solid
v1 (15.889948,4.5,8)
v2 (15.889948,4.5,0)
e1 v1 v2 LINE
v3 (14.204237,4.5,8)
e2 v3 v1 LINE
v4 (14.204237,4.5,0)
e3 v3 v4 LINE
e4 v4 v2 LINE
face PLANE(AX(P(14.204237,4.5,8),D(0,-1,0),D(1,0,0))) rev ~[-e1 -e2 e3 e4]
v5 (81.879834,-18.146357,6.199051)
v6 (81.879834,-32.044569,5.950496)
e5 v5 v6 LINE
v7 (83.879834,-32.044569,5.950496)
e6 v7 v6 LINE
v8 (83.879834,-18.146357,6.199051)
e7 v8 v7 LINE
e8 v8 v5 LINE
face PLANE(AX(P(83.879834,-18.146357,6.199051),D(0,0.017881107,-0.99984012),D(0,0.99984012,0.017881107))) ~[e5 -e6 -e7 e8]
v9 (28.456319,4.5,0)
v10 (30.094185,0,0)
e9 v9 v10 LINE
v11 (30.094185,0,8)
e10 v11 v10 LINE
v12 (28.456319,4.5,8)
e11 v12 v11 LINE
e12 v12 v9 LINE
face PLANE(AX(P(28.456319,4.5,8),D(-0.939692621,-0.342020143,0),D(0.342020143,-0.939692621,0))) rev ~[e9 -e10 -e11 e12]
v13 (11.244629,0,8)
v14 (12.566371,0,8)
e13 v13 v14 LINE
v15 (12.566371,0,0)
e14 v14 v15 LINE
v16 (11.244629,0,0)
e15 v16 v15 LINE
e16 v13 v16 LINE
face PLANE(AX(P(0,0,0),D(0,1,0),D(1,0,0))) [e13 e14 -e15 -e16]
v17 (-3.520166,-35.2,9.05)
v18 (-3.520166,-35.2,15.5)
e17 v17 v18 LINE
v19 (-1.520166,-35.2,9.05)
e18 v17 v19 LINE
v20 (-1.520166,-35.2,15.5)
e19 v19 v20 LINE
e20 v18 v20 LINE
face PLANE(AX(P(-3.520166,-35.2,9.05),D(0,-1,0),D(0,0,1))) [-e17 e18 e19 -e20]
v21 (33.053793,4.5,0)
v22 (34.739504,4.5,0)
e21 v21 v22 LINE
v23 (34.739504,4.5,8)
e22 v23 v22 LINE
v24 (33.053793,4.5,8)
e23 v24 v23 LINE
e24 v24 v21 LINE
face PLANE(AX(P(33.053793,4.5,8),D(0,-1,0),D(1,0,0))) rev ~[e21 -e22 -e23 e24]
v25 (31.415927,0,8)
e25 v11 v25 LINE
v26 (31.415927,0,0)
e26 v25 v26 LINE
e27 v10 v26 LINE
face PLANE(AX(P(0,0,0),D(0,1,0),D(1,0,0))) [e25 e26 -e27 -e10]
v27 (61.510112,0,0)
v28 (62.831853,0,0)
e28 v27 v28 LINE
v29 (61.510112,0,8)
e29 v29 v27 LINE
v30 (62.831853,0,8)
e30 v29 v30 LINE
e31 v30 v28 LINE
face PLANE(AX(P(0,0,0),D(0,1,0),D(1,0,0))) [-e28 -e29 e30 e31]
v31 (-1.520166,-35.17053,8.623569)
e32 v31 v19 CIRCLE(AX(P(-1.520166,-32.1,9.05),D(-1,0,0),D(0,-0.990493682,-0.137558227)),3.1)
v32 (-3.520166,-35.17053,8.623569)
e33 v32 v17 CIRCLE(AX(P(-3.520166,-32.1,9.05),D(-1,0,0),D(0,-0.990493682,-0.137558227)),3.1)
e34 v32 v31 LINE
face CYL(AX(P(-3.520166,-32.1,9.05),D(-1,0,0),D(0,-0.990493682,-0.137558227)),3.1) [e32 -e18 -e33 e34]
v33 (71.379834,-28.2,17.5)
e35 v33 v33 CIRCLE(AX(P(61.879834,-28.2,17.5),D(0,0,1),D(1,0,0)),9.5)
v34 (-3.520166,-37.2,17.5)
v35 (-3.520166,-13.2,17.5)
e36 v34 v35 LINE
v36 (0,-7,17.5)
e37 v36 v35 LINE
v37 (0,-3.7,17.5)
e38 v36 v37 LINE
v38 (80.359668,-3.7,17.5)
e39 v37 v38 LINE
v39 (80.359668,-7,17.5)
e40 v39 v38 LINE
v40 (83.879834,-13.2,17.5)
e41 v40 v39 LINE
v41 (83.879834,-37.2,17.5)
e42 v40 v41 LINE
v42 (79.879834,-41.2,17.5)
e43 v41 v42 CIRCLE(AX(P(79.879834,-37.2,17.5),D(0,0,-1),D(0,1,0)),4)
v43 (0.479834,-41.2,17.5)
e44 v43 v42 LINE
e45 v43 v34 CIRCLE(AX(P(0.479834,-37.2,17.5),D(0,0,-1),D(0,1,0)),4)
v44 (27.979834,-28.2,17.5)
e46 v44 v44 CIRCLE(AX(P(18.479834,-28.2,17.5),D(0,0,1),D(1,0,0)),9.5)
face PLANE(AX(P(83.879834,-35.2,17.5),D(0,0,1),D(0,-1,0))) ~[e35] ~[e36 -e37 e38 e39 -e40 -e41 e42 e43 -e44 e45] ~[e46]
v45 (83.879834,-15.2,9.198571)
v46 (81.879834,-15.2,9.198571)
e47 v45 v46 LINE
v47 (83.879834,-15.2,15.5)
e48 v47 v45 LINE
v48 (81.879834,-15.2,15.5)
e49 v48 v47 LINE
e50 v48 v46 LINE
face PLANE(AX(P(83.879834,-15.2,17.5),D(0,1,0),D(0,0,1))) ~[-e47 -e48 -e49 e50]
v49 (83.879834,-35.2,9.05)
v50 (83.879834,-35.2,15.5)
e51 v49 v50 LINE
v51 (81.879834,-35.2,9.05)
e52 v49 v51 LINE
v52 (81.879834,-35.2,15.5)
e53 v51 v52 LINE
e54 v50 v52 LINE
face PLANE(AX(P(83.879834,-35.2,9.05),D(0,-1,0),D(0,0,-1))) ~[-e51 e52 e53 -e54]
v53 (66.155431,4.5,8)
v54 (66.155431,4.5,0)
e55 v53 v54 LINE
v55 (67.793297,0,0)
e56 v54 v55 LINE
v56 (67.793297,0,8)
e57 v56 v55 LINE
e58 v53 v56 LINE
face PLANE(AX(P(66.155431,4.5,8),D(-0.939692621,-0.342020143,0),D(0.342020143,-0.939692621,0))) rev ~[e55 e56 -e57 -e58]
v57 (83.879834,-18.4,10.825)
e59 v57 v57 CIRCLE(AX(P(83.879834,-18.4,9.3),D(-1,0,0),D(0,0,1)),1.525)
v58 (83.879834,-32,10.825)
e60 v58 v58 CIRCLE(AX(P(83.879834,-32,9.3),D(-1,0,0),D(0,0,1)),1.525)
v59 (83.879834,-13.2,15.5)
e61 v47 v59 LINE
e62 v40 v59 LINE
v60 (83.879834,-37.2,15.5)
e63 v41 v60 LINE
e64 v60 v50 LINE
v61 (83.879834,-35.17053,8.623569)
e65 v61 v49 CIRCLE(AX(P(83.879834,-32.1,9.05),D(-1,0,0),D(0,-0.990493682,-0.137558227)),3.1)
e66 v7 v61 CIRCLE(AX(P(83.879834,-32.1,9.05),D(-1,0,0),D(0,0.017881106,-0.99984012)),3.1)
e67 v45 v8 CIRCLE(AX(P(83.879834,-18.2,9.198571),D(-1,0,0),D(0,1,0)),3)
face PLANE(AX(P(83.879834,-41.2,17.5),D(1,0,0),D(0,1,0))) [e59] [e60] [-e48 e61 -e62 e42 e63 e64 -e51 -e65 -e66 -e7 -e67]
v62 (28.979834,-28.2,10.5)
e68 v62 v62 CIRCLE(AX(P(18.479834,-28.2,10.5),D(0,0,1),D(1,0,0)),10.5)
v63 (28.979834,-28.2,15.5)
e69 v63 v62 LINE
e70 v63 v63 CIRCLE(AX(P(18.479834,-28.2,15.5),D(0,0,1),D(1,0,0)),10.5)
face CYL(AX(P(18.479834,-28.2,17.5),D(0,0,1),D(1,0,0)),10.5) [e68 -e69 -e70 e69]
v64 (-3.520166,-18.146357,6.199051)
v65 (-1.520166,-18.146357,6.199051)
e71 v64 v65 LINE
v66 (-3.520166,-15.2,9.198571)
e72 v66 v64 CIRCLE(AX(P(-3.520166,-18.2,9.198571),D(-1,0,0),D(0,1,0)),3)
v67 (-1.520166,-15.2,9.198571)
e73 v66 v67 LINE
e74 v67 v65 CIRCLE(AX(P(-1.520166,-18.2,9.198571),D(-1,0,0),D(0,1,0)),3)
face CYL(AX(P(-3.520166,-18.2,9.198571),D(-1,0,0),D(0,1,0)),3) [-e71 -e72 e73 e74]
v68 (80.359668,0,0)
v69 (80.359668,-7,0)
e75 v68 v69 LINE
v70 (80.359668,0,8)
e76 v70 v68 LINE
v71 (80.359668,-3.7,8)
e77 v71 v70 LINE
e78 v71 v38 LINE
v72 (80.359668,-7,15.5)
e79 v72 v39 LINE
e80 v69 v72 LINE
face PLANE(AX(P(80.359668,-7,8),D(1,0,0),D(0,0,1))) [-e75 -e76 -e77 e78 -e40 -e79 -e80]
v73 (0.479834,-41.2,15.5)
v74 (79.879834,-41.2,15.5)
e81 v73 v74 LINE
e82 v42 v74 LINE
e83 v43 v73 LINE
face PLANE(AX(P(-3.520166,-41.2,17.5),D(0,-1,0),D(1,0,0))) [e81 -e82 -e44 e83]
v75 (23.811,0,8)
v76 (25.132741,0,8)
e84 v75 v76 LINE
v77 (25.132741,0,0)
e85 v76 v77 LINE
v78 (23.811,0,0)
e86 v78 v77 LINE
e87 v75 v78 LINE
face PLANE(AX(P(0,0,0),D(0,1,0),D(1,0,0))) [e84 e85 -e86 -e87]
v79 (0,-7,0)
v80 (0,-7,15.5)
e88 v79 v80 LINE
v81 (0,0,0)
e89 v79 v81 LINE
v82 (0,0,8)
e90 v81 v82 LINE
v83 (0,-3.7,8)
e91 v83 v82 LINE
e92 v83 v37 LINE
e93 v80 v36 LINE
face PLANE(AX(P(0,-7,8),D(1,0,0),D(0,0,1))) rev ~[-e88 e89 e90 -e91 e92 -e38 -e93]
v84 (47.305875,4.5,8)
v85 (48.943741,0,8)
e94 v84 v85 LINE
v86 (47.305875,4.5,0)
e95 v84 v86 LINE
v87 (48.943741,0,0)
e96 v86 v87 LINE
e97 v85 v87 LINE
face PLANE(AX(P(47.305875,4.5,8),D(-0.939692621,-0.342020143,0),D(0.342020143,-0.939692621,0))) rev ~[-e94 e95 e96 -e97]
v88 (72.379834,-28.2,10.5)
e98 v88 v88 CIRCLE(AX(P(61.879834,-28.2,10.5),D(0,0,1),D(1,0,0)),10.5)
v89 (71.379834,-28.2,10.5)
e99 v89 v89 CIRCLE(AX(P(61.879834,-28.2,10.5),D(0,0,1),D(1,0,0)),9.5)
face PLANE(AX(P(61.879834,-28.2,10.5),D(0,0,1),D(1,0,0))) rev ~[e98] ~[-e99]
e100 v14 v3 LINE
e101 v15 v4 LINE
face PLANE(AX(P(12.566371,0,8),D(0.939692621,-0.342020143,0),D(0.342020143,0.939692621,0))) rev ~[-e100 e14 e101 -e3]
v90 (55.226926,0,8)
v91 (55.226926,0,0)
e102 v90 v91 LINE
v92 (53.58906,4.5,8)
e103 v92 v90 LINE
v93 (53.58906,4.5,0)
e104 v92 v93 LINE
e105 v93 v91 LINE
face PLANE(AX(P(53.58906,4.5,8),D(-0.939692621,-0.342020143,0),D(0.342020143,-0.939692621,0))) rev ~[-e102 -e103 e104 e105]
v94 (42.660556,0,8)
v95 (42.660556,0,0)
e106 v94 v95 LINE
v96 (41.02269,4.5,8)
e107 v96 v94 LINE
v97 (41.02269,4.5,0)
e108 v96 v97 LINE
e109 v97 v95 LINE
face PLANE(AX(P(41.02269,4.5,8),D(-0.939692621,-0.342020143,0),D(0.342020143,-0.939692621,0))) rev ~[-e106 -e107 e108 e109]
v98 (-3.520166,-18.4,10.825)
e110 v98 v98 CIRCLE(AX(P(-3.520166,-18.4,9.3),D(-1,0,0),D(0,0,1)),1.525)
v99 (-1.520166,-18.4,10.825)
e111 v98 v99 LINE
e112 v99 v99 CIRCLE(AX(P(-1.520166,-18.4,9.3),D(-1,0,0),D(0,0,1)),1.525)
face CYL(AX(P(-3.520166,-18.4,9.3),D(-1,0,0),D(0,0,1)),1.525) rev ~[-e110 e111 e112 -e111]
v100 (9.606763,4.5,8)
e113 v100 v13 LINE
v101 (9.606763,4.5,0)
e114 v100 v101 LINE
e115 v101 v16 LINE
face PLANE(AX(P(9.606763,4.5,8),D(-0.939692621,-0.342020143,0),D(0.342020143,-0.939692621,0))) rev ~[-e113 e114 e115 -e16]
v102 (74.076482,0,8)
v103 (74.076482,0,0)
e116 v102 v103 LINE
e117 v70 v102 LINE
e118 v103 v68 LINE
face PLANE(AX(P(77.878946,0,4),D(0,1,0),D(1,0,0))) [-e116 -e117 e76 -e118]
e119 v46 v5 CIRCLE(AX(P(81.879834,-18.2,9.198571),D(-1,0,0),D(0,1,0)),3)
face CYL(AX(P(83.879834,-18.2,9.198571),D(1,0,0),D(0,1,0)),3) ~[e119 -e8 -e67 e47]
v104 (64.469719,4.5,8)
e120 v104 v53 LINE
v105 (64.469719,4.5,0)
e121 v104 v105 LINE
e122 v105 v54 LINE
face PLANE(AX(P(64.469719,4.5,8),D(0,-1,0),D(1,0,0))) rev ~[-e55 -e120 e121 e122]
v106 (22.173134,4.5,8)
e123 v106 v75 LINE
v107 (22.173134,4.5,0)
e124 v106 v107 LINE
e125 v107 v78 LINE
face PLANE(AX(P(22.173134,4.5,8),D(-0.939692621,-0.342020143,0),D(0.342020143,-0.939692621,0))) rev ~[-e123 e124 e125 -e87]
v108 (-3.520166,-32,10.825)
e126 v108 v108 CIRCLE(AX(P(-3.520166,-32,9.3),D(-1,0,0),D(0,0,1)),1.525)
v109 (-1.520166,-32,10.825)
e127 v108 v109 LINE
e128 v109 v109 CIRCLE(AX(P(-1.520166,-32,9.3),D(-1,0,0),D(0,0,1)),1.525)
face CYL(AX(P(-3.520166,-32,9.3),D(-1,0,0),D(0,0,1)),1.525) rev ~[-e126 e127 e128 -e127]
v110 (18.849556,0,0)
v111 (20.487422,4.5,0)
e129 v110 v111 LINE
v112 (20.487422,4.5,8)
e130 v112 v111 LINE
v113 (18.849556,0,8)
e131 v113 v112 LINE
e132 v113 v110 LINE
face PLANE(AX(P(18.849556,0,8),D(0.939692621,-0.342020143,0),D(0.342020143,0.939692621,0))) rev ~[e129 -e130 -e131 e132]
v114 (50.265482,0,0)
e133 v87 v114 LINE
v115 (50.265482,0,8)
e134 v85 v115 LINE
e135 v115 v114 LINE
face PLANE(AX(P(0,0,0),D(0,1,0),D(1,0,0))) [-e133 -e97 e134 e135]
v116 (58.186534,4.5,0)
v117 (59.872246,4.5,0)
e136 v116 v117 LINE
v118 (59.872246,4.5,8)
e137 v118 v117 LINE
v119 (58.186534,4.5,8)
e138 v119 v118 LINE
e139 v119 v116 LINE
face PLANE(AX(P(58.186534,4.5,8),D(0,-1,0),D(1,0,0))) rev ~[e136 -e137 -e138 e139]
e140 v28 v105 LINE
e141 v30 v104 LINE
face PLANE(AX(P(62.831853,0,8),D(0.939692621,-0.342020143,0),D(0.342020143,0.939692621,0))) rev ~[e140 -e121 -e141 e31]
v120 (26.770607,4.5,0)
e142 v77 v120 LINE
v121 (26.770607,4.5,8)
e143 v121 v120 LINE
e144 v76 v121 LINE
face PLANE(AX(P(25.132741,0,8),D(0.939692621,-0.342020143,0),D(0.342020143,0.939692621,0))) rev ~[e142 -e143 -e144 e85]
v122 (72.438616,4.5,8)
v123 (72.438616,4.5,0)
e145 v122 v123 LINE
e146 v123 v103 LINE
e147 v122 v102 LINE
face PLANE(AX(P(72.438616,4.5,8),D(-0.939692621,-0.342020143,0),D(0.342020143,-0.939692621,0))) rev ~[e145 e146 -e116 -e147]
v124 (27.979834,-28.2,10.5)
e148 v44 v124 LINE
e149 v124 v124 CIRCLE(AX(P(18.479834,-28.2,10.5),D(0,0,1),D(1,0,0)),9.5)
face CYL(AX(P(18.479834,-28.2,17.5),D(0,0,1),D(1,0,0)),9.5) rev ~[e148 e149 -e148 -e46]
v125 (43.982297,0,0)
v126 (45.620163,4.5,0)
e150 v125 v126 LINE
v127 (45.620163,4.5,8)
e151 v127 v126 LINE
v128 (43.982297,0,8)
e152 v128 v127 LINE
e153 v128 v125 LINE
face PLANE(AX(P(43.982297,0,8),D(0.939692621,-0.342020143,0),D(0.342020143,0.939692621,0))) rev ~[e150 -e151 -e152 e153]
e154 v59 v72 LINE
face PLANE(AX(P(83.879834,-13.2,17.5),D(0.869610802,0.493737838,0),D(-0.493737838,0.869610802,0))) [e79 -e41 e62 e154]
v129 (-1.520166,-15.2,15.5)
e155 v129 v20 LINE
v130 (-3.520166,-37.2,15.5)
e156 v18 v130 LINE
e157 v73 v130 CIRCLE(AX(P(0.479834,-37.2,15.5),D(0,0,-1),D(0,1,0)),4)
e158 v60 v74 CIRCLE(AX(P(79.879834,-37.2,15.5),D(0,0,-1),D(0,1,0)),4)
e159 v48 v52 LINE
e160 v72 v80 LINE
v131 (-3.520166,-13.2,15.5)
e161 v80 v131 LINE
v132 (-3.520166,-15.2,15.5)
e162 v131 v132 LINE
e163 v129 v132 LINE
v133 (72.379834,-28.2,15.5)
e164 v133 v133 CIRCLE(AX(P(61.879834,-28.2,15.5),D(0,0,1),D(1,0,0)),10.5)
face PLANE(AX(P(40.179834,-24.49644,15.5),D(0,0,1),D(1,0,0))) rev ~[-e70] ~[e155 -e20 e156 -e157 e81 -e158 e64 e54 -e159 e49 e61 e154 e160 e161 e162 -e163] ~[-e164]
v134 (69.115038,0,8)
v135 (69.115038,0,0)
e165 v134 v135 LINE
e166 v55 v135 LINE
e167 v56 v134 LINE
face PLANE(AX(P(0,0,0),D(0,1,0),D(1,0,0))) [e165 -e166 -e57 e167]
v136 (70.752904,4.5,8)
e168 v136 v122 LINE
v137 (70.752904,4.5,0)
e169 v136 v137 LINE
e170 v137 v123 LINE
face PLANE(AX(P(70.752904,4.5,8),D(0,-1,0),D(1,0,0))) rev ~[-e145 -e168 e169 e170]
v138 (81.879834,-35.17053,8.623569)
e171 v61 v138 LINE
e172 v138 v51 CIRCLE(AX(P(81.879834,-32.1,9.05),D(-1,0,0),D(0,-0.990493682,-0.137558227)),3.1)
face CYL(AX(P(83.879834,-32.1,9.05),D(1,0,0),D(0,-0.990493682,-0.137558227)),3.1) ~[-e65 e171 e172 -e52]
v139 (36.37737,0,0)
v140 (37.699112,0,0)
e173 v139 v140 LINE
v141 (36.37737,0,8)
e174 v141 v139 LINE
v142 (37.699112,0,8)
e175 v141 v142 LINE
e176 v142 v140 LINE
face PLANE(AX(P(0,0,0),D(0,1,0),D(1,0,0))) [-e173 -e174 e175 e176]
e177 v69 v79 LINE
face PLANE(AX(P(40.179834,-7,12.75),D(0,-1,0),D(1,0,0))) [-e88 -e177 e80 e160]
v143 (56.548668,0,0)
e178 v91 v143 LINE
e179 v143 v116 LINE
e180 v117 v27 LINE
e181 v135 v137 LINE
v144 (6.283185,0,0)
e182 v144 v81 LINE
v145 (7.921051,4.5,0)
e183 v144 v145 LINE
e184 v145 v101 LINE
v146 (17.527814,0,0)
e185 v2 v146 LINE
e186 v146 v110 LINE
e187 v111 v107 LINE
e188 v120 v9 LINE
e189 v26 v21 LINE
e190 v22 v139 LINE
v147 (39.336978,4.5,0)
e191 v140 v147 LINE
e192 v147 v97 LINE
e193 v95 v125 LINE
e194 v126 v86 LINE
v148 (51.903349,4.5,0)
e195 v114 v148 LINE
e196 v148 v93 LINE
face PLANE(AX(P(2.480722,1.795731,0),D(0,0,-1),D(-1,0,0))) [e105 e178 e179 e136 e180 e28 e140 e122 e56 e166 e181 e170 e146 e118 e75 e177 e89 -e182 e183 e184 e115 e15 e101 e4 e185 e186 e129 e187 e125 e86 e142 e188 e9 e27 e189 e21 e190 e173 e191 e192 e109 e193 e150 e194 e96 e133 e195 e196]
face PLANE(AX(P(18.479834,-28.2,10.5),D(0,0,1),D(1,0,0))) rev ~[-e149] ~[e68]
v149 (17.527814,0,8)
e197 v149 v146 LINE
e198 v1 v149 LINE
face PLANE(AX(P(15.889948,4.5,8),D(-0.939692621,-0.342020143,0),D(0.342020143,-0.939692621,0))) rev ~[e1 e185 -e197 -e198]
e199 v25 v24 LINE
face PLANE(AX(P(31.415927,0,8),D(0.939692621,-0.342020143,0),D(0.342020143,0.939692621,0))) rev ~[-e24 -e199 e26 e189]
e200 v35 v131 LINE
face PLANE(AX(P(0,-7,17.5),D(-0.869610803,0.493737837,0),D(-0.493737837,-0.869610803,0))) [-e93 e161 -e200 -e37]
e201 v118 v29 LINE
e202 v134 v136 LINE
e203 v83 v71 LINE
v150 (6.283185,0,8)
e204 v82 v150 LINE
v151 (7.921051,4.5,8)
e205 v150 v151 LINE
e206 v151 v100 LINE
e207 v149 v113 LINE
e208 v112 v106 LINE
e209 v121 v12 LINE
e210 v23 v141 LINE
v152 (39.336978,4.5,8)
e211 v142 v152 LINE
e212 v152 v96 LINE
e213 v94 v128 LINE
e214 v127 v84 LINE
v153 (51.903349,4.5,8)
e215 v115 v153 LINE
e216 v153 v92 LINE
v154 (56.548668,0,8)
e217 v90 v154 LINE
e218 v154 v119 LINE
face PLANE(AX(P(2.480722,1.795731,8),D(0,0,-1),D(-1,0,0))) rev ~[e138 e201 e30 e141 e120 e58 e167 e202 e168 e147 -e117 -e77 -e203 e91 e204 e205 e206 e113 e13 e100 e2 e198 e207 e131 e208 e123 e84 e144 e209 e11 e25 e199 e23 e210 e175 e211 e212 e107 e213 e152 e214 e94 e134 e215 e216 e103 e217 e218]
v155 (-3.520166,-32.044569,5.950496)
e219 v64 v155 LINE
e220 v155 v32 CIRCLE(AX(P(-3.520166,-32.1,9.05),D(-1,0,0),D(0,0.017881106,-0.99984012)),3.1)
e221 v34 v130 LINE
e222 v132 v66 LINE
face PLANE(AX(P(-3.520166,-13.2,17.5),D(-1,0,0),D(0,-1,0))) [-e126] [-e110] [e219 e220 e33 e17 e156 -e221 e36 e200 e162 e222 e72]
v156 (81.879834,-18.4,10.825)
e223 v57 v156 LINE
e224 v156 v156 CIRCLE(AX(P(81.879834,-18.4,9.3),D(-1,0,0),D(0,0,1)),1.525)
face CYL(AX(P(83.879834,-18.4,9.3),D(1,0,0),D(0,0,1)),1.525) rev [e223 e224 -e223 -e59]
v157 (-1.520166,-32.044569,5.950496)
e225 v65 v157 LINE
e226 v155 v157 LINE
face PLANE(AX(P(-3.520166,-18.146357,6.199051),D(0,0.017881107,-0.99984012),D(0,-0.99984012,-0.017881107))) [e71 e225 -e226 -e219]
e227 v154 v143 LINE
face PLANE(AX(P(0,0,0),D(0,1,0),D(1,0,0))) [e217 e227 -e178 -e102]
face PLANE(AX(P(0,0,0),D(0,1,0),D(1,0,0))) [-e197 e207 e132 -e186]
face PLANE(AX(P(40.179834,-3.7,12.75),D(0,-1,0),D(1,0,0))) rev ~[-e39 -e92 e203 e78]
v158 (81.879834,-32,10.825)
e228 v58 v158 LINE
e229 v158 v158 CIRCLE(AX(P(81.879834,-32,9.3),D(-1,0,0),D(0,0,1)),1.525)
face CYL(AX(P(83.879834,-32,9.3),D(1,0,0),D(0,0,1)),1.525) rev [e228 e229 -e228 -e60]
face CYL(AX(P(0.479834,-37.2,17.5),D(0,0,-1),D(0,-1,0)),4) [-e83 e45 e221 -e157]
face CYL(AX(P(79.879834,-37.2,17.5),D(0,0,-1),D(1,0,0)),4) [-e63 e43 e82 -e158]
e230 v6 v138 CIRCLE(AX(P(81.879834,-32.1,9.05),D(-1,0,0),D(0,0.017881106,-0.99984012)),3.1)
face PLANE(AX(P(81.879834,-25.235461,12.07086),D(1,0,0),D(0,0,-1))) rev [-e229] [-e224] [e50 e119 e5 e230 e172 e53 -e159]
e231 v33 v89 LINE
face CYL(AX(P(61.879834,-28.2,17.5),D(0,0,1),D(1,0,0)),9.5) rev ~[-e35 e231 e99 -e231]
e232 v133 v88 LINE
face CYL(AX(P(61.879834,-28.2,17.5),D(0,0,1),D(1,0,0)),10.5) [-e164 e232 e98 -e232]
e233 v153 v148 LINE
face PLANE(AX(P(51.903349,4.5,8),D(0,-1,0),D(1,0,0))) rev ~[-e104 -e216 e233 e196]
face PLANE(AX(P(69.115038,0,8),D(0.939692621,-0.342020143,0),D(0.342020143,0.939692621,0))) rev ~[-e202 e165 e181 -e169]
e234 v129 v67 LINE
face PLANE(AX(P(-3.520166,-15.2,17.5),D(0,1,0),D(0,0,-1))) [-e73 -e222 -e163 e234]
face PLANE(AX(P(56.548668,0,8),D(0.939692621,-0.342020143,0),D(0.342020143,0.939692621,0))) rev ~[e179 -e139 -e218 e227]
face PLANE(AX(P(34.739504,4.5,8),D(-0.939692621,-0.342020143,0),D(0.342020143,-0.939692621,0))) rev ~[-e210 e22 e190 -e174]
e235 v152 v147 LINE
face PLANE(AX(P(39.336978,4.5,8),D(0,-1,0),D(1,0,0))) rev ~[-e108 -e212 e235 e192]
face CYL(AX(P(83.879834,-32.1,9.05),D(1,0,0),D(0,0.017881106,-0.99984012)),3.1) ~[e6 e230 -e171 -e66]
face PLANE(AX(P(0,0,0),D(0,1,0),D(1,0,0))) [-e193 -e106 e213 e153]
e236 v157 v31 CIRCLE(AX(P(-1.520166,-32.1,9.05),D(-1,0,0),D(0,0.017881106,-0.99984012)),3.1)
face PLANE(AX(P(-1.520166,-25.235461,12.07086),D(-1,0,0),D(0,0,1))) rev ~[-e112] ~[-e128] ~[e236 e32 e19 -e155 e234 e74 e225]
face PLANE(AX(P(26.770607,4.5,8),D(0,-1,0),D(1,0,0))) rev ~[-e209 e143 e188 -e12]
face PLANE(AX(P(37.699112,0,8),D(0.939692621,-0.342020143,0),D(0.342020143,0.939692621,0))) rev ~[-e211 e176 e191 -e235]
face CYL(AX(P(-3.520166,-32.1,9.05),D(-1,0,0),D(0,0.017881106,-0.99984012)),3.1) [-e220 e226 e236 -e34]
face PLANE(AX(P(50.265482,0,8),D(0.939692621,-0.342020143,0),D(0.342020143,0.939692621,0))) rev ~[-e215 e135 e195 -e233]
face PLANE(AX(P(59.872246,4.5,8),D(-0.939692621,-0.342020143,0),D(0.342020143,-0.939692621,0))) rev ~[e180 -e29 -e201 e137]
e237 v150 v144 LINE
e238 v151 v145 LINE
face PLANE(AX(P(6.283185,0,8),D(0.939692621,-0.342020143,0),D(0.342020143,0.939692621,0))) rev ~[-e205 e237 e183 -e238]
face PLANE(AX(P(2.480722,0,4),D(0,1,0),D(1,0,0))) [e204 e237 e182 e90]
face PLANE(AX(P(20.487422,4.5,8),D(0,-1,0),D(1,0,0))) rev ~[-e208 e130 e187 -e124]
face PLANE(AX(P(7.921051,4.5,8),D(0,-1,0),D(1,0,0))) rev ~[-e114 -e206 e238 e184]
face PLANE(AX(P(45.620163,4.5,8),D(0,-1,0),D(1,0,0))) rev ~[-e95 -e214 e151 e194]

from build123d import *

# Parameters (mm, degrees)
SKETCH1_W           = 213.628300444
SKETCH1_H           = 8
EXTRUDE1_DEPTH      = 8
EXTRUDE2_DEPTH      = 8
LPATTERN1_COUNT     = 34
LPATTERN1_PITCH     = 6.283185307
SKETCH_1_W          = 133.268632933
SKETCH_1_H          = 8
CUT_EXTRUDE_1_DEPTH = 25
SKETCH_2_W          = 4.961443825
SKETCH_2_H          = 8
CUT_EXTRUDE_2_DEPTH = 50
SKETCH_3_W          = 80.359667511
SKETCH_3_H          = 1
CUT_EXTRUDE_3_DEPTH = 50
SKETCH_4_W          = 80.359667511
SKETCH_4_H          = 9.5
EXTRUDE_1_DEPTH     = 3.3
SKETCH_5_R          = 10.5
SKETCH_5_R_2        = 9.5
EXTRUDE_2_DEPTH     = 7
EXTRUDE_2_2_DEPTH   = 7
SKETCH_6_R          = 10.5
EXTRUDE_3_DEPTH     = 2
EXTRUDE_4_DEPTH     = 2
SKETCH_8_R          = 1.525
CUT_EXTRUDE_4_DEPTH = 2
FILLET_1_R          = 4


with BuildPart() as part:
    # Sketch1 → Extrude1 (new body)
    with BuildSketch(Plane.XY):
        with Locations((106.814150222, -4)):
            Rectangle(SKETCH1_W, SKETCH1_H)
    extrude(amount=EXTRUDE1_DEPTH)

    # Sketch2 → Extrude2 (add)
    with BuildSketch(Plane.XY.offset(8)):
        Polygon((0, 0), (1.637866054, 4.5), (3.323577771, 4.5), (4.961443825, 0), align=None)
    extrude2 = extrude(amount=-EXTRUDE2_DEPTH)

    # LPattern1: Extrude2 ×34
    with Locations(*[(i * LPATTERN1_PITCH, 0, 0) for i in range(1, LPATTERN1_COUNT)]):
        add(extrude2)

    # 草图1 → 切除-拉伸1 (cut, symmetric)
    with BuildSketch(Plane(origin=(0, 0, 0), x_dir=(1, 0, 0), z_dir=(0, 1, 0))):
        with Locations((146.993983978, -4)):
            Rectangle(SKETCH_1_W, SKETCH_1_H)
    extrude(amount=CUT_EXTRUDE_1_DEPTH, both=True, mode=Mode.SUBTRACT)

    # 草图2 → 切除-拉伸2 (cut)
    with BuildSketch(Plane(origin=(0, 0, 0), x_dir=(1, 0, 0), z_dir=(0, 1, 0))):
        with Locations((77.878945599, -4)):
            Rectangle(SKETCH_2_W, SKETCH_2_H)
        with Locations((2.480721912, -4)):
            Rectangle(SKETCH_2_W, SKETCH_2_H)
    extrude(amount=CUT_EXTRUDE_2_DEPTH, mode=Mode.SUBTRACT)

    # 草图3 → 切除-拉伸3 (cut)
    with BuildSketch(Plane(origin=(0, 0, 0), x_dir=(-1, 0, 0), z_dir=(0, 0, -1))):
        with Locations((-40.179833756, -7.5)):
            Rectangle(SKETCH_3_W, SKETCH_3_H)
    extrude(amount=-CUT_EXTRUDE_3_DEPTH, mode=Mode.SUBTRACT)

    # 草图4 → 凸台-拉伸1 (add)
    with BuildSketch(Plane.XZ.offset(7)):
        with Locations((40.179833756, 12.75)):
            Rectangle(SKETCH_4_W, SKETCH_4_H)
    extrude(amount=-EXTRUDE_1_DEPTH)



with BuildPart() as body_2:
    # 草图5 → 凸台-拉伸2 (new body)
    with BuildSketch(Plane.XY.offset(17.5)):
        with Locations((61.879833756, -28.2)):
            Circle(SKETCH_5_R)
        with Locations((61.879833756, -28.2)):
            Circle(SKETCH_5_R_2, mode=Mode.SUBTRACT)
    extrude(amount=-EXTRUDE_2_DEPTH)


with BuildPart() as body_3:
    # 草图5 → Extrude 2 2 (new body)
    with BuildSketch(Plane.XY.offset(17.5)):
        with Locations((18.479833756, -28.2)):
            Circle(SKETCH_5_R)
        with Locations((18.479833756, -28.2)):
            Circle(SKETCH_5_R_2, mode=Mode.SUBTRACT)
    extrude(amount=-EXTRUDE_2_2_DEPTH)


with BuildPart() as part_1:
    add(part.part)

    add(body_2.part)  # 凸台-拉伸3 merges body 2

    add(body_3.part)  # 凸台-拉伸3 merges body 3
    # 草图6 → 凸台-拉伸3 (add)
    with BuildSketch(Plane.XY.offset(17.5)):
        Polygon((-3.520166244, -41.2), (83.879833756, -41.2), (83.879833756, -13.2), (80.359667511, -7), (0, -7), (-3.520166244, -13.2), align=None)
        with Locations((61.879833756, -28.2)):
            Circle(SKETCH_6_R, mode=Mode.SUBTRACT)
        with Locations((18.479833756, -28.2)):
            Circle(SKETCH_6_R, mode=Mode.SUBTRACT)
    extrude(amount=-EXTRUDE_3_DEPTH)

    # 草图7 → 凸台-拉伸4 (add)
    with BuildSketch(Plane.ZY.offset(3.520166244)):
        with BuildLine():
            Line((17.5, -15.2), (9.198571137, -15.2))
            ThreePointArc((9.198571137, -15.2), (7.09630212, -16.059797912), (6.199050778, -18.14635668))
            Line((6.199050778, -18.14635668), (5.950495627, -32.044568569))
            ThreePointArc((5.950495627, -32.044568569), (6.693951707, -34.11470505), (8.623569492, -35.170530414))
            ThreePointArc((8.623569492, -35.170530414), (8.836276209, -35.192623828), (9.05, -35.2))
            Line((9.05, -35.2), (17.5, -35.2))
            Line((17.5, -35.2), (17.5, -15.2))
        make_face()
    extrude_4 = extrude(amount=-EXTRUDE_4_DEPTH)

    # 镜向1: 凸台-拉伸4 across plane
    add(extrude_4.mirror(Plane.ZY.offset(-40.179833756)))

    # 草图8 → 切除-拉伸4 (cut)
    with BuildSketch(Plane.ZY.offset(3.520166244)):
        with Locations((9.3, -18.4)):
            Circle(SKETCH_8_R)
        with Locations((9.3, -32)):
            Circle(SKETCH_8_R)
    cut_extrude_4 = extrude(amount=-CUT_EXTRUDE_4_DEPTH, mode=Mode.SUBTRACT)

    # 镜向2: 切除-拉伸4 across plane
    add(cut_extrude_4.mirror(Plane.ZY.offset(-40.179833756)), mode=Mode.SUBTRACT)

    # 圆角1
    fillet_1_edges = [part_1.edges().sort_by_distance(p)[0] for p in [
        (83.879833756, -41.2, 16.5),
        (-3.520166244, -41.2, 16.5),
    ]]
    fillet(fillet_1_edges, radius=FILLET_1_R)


solid = part_1.part
